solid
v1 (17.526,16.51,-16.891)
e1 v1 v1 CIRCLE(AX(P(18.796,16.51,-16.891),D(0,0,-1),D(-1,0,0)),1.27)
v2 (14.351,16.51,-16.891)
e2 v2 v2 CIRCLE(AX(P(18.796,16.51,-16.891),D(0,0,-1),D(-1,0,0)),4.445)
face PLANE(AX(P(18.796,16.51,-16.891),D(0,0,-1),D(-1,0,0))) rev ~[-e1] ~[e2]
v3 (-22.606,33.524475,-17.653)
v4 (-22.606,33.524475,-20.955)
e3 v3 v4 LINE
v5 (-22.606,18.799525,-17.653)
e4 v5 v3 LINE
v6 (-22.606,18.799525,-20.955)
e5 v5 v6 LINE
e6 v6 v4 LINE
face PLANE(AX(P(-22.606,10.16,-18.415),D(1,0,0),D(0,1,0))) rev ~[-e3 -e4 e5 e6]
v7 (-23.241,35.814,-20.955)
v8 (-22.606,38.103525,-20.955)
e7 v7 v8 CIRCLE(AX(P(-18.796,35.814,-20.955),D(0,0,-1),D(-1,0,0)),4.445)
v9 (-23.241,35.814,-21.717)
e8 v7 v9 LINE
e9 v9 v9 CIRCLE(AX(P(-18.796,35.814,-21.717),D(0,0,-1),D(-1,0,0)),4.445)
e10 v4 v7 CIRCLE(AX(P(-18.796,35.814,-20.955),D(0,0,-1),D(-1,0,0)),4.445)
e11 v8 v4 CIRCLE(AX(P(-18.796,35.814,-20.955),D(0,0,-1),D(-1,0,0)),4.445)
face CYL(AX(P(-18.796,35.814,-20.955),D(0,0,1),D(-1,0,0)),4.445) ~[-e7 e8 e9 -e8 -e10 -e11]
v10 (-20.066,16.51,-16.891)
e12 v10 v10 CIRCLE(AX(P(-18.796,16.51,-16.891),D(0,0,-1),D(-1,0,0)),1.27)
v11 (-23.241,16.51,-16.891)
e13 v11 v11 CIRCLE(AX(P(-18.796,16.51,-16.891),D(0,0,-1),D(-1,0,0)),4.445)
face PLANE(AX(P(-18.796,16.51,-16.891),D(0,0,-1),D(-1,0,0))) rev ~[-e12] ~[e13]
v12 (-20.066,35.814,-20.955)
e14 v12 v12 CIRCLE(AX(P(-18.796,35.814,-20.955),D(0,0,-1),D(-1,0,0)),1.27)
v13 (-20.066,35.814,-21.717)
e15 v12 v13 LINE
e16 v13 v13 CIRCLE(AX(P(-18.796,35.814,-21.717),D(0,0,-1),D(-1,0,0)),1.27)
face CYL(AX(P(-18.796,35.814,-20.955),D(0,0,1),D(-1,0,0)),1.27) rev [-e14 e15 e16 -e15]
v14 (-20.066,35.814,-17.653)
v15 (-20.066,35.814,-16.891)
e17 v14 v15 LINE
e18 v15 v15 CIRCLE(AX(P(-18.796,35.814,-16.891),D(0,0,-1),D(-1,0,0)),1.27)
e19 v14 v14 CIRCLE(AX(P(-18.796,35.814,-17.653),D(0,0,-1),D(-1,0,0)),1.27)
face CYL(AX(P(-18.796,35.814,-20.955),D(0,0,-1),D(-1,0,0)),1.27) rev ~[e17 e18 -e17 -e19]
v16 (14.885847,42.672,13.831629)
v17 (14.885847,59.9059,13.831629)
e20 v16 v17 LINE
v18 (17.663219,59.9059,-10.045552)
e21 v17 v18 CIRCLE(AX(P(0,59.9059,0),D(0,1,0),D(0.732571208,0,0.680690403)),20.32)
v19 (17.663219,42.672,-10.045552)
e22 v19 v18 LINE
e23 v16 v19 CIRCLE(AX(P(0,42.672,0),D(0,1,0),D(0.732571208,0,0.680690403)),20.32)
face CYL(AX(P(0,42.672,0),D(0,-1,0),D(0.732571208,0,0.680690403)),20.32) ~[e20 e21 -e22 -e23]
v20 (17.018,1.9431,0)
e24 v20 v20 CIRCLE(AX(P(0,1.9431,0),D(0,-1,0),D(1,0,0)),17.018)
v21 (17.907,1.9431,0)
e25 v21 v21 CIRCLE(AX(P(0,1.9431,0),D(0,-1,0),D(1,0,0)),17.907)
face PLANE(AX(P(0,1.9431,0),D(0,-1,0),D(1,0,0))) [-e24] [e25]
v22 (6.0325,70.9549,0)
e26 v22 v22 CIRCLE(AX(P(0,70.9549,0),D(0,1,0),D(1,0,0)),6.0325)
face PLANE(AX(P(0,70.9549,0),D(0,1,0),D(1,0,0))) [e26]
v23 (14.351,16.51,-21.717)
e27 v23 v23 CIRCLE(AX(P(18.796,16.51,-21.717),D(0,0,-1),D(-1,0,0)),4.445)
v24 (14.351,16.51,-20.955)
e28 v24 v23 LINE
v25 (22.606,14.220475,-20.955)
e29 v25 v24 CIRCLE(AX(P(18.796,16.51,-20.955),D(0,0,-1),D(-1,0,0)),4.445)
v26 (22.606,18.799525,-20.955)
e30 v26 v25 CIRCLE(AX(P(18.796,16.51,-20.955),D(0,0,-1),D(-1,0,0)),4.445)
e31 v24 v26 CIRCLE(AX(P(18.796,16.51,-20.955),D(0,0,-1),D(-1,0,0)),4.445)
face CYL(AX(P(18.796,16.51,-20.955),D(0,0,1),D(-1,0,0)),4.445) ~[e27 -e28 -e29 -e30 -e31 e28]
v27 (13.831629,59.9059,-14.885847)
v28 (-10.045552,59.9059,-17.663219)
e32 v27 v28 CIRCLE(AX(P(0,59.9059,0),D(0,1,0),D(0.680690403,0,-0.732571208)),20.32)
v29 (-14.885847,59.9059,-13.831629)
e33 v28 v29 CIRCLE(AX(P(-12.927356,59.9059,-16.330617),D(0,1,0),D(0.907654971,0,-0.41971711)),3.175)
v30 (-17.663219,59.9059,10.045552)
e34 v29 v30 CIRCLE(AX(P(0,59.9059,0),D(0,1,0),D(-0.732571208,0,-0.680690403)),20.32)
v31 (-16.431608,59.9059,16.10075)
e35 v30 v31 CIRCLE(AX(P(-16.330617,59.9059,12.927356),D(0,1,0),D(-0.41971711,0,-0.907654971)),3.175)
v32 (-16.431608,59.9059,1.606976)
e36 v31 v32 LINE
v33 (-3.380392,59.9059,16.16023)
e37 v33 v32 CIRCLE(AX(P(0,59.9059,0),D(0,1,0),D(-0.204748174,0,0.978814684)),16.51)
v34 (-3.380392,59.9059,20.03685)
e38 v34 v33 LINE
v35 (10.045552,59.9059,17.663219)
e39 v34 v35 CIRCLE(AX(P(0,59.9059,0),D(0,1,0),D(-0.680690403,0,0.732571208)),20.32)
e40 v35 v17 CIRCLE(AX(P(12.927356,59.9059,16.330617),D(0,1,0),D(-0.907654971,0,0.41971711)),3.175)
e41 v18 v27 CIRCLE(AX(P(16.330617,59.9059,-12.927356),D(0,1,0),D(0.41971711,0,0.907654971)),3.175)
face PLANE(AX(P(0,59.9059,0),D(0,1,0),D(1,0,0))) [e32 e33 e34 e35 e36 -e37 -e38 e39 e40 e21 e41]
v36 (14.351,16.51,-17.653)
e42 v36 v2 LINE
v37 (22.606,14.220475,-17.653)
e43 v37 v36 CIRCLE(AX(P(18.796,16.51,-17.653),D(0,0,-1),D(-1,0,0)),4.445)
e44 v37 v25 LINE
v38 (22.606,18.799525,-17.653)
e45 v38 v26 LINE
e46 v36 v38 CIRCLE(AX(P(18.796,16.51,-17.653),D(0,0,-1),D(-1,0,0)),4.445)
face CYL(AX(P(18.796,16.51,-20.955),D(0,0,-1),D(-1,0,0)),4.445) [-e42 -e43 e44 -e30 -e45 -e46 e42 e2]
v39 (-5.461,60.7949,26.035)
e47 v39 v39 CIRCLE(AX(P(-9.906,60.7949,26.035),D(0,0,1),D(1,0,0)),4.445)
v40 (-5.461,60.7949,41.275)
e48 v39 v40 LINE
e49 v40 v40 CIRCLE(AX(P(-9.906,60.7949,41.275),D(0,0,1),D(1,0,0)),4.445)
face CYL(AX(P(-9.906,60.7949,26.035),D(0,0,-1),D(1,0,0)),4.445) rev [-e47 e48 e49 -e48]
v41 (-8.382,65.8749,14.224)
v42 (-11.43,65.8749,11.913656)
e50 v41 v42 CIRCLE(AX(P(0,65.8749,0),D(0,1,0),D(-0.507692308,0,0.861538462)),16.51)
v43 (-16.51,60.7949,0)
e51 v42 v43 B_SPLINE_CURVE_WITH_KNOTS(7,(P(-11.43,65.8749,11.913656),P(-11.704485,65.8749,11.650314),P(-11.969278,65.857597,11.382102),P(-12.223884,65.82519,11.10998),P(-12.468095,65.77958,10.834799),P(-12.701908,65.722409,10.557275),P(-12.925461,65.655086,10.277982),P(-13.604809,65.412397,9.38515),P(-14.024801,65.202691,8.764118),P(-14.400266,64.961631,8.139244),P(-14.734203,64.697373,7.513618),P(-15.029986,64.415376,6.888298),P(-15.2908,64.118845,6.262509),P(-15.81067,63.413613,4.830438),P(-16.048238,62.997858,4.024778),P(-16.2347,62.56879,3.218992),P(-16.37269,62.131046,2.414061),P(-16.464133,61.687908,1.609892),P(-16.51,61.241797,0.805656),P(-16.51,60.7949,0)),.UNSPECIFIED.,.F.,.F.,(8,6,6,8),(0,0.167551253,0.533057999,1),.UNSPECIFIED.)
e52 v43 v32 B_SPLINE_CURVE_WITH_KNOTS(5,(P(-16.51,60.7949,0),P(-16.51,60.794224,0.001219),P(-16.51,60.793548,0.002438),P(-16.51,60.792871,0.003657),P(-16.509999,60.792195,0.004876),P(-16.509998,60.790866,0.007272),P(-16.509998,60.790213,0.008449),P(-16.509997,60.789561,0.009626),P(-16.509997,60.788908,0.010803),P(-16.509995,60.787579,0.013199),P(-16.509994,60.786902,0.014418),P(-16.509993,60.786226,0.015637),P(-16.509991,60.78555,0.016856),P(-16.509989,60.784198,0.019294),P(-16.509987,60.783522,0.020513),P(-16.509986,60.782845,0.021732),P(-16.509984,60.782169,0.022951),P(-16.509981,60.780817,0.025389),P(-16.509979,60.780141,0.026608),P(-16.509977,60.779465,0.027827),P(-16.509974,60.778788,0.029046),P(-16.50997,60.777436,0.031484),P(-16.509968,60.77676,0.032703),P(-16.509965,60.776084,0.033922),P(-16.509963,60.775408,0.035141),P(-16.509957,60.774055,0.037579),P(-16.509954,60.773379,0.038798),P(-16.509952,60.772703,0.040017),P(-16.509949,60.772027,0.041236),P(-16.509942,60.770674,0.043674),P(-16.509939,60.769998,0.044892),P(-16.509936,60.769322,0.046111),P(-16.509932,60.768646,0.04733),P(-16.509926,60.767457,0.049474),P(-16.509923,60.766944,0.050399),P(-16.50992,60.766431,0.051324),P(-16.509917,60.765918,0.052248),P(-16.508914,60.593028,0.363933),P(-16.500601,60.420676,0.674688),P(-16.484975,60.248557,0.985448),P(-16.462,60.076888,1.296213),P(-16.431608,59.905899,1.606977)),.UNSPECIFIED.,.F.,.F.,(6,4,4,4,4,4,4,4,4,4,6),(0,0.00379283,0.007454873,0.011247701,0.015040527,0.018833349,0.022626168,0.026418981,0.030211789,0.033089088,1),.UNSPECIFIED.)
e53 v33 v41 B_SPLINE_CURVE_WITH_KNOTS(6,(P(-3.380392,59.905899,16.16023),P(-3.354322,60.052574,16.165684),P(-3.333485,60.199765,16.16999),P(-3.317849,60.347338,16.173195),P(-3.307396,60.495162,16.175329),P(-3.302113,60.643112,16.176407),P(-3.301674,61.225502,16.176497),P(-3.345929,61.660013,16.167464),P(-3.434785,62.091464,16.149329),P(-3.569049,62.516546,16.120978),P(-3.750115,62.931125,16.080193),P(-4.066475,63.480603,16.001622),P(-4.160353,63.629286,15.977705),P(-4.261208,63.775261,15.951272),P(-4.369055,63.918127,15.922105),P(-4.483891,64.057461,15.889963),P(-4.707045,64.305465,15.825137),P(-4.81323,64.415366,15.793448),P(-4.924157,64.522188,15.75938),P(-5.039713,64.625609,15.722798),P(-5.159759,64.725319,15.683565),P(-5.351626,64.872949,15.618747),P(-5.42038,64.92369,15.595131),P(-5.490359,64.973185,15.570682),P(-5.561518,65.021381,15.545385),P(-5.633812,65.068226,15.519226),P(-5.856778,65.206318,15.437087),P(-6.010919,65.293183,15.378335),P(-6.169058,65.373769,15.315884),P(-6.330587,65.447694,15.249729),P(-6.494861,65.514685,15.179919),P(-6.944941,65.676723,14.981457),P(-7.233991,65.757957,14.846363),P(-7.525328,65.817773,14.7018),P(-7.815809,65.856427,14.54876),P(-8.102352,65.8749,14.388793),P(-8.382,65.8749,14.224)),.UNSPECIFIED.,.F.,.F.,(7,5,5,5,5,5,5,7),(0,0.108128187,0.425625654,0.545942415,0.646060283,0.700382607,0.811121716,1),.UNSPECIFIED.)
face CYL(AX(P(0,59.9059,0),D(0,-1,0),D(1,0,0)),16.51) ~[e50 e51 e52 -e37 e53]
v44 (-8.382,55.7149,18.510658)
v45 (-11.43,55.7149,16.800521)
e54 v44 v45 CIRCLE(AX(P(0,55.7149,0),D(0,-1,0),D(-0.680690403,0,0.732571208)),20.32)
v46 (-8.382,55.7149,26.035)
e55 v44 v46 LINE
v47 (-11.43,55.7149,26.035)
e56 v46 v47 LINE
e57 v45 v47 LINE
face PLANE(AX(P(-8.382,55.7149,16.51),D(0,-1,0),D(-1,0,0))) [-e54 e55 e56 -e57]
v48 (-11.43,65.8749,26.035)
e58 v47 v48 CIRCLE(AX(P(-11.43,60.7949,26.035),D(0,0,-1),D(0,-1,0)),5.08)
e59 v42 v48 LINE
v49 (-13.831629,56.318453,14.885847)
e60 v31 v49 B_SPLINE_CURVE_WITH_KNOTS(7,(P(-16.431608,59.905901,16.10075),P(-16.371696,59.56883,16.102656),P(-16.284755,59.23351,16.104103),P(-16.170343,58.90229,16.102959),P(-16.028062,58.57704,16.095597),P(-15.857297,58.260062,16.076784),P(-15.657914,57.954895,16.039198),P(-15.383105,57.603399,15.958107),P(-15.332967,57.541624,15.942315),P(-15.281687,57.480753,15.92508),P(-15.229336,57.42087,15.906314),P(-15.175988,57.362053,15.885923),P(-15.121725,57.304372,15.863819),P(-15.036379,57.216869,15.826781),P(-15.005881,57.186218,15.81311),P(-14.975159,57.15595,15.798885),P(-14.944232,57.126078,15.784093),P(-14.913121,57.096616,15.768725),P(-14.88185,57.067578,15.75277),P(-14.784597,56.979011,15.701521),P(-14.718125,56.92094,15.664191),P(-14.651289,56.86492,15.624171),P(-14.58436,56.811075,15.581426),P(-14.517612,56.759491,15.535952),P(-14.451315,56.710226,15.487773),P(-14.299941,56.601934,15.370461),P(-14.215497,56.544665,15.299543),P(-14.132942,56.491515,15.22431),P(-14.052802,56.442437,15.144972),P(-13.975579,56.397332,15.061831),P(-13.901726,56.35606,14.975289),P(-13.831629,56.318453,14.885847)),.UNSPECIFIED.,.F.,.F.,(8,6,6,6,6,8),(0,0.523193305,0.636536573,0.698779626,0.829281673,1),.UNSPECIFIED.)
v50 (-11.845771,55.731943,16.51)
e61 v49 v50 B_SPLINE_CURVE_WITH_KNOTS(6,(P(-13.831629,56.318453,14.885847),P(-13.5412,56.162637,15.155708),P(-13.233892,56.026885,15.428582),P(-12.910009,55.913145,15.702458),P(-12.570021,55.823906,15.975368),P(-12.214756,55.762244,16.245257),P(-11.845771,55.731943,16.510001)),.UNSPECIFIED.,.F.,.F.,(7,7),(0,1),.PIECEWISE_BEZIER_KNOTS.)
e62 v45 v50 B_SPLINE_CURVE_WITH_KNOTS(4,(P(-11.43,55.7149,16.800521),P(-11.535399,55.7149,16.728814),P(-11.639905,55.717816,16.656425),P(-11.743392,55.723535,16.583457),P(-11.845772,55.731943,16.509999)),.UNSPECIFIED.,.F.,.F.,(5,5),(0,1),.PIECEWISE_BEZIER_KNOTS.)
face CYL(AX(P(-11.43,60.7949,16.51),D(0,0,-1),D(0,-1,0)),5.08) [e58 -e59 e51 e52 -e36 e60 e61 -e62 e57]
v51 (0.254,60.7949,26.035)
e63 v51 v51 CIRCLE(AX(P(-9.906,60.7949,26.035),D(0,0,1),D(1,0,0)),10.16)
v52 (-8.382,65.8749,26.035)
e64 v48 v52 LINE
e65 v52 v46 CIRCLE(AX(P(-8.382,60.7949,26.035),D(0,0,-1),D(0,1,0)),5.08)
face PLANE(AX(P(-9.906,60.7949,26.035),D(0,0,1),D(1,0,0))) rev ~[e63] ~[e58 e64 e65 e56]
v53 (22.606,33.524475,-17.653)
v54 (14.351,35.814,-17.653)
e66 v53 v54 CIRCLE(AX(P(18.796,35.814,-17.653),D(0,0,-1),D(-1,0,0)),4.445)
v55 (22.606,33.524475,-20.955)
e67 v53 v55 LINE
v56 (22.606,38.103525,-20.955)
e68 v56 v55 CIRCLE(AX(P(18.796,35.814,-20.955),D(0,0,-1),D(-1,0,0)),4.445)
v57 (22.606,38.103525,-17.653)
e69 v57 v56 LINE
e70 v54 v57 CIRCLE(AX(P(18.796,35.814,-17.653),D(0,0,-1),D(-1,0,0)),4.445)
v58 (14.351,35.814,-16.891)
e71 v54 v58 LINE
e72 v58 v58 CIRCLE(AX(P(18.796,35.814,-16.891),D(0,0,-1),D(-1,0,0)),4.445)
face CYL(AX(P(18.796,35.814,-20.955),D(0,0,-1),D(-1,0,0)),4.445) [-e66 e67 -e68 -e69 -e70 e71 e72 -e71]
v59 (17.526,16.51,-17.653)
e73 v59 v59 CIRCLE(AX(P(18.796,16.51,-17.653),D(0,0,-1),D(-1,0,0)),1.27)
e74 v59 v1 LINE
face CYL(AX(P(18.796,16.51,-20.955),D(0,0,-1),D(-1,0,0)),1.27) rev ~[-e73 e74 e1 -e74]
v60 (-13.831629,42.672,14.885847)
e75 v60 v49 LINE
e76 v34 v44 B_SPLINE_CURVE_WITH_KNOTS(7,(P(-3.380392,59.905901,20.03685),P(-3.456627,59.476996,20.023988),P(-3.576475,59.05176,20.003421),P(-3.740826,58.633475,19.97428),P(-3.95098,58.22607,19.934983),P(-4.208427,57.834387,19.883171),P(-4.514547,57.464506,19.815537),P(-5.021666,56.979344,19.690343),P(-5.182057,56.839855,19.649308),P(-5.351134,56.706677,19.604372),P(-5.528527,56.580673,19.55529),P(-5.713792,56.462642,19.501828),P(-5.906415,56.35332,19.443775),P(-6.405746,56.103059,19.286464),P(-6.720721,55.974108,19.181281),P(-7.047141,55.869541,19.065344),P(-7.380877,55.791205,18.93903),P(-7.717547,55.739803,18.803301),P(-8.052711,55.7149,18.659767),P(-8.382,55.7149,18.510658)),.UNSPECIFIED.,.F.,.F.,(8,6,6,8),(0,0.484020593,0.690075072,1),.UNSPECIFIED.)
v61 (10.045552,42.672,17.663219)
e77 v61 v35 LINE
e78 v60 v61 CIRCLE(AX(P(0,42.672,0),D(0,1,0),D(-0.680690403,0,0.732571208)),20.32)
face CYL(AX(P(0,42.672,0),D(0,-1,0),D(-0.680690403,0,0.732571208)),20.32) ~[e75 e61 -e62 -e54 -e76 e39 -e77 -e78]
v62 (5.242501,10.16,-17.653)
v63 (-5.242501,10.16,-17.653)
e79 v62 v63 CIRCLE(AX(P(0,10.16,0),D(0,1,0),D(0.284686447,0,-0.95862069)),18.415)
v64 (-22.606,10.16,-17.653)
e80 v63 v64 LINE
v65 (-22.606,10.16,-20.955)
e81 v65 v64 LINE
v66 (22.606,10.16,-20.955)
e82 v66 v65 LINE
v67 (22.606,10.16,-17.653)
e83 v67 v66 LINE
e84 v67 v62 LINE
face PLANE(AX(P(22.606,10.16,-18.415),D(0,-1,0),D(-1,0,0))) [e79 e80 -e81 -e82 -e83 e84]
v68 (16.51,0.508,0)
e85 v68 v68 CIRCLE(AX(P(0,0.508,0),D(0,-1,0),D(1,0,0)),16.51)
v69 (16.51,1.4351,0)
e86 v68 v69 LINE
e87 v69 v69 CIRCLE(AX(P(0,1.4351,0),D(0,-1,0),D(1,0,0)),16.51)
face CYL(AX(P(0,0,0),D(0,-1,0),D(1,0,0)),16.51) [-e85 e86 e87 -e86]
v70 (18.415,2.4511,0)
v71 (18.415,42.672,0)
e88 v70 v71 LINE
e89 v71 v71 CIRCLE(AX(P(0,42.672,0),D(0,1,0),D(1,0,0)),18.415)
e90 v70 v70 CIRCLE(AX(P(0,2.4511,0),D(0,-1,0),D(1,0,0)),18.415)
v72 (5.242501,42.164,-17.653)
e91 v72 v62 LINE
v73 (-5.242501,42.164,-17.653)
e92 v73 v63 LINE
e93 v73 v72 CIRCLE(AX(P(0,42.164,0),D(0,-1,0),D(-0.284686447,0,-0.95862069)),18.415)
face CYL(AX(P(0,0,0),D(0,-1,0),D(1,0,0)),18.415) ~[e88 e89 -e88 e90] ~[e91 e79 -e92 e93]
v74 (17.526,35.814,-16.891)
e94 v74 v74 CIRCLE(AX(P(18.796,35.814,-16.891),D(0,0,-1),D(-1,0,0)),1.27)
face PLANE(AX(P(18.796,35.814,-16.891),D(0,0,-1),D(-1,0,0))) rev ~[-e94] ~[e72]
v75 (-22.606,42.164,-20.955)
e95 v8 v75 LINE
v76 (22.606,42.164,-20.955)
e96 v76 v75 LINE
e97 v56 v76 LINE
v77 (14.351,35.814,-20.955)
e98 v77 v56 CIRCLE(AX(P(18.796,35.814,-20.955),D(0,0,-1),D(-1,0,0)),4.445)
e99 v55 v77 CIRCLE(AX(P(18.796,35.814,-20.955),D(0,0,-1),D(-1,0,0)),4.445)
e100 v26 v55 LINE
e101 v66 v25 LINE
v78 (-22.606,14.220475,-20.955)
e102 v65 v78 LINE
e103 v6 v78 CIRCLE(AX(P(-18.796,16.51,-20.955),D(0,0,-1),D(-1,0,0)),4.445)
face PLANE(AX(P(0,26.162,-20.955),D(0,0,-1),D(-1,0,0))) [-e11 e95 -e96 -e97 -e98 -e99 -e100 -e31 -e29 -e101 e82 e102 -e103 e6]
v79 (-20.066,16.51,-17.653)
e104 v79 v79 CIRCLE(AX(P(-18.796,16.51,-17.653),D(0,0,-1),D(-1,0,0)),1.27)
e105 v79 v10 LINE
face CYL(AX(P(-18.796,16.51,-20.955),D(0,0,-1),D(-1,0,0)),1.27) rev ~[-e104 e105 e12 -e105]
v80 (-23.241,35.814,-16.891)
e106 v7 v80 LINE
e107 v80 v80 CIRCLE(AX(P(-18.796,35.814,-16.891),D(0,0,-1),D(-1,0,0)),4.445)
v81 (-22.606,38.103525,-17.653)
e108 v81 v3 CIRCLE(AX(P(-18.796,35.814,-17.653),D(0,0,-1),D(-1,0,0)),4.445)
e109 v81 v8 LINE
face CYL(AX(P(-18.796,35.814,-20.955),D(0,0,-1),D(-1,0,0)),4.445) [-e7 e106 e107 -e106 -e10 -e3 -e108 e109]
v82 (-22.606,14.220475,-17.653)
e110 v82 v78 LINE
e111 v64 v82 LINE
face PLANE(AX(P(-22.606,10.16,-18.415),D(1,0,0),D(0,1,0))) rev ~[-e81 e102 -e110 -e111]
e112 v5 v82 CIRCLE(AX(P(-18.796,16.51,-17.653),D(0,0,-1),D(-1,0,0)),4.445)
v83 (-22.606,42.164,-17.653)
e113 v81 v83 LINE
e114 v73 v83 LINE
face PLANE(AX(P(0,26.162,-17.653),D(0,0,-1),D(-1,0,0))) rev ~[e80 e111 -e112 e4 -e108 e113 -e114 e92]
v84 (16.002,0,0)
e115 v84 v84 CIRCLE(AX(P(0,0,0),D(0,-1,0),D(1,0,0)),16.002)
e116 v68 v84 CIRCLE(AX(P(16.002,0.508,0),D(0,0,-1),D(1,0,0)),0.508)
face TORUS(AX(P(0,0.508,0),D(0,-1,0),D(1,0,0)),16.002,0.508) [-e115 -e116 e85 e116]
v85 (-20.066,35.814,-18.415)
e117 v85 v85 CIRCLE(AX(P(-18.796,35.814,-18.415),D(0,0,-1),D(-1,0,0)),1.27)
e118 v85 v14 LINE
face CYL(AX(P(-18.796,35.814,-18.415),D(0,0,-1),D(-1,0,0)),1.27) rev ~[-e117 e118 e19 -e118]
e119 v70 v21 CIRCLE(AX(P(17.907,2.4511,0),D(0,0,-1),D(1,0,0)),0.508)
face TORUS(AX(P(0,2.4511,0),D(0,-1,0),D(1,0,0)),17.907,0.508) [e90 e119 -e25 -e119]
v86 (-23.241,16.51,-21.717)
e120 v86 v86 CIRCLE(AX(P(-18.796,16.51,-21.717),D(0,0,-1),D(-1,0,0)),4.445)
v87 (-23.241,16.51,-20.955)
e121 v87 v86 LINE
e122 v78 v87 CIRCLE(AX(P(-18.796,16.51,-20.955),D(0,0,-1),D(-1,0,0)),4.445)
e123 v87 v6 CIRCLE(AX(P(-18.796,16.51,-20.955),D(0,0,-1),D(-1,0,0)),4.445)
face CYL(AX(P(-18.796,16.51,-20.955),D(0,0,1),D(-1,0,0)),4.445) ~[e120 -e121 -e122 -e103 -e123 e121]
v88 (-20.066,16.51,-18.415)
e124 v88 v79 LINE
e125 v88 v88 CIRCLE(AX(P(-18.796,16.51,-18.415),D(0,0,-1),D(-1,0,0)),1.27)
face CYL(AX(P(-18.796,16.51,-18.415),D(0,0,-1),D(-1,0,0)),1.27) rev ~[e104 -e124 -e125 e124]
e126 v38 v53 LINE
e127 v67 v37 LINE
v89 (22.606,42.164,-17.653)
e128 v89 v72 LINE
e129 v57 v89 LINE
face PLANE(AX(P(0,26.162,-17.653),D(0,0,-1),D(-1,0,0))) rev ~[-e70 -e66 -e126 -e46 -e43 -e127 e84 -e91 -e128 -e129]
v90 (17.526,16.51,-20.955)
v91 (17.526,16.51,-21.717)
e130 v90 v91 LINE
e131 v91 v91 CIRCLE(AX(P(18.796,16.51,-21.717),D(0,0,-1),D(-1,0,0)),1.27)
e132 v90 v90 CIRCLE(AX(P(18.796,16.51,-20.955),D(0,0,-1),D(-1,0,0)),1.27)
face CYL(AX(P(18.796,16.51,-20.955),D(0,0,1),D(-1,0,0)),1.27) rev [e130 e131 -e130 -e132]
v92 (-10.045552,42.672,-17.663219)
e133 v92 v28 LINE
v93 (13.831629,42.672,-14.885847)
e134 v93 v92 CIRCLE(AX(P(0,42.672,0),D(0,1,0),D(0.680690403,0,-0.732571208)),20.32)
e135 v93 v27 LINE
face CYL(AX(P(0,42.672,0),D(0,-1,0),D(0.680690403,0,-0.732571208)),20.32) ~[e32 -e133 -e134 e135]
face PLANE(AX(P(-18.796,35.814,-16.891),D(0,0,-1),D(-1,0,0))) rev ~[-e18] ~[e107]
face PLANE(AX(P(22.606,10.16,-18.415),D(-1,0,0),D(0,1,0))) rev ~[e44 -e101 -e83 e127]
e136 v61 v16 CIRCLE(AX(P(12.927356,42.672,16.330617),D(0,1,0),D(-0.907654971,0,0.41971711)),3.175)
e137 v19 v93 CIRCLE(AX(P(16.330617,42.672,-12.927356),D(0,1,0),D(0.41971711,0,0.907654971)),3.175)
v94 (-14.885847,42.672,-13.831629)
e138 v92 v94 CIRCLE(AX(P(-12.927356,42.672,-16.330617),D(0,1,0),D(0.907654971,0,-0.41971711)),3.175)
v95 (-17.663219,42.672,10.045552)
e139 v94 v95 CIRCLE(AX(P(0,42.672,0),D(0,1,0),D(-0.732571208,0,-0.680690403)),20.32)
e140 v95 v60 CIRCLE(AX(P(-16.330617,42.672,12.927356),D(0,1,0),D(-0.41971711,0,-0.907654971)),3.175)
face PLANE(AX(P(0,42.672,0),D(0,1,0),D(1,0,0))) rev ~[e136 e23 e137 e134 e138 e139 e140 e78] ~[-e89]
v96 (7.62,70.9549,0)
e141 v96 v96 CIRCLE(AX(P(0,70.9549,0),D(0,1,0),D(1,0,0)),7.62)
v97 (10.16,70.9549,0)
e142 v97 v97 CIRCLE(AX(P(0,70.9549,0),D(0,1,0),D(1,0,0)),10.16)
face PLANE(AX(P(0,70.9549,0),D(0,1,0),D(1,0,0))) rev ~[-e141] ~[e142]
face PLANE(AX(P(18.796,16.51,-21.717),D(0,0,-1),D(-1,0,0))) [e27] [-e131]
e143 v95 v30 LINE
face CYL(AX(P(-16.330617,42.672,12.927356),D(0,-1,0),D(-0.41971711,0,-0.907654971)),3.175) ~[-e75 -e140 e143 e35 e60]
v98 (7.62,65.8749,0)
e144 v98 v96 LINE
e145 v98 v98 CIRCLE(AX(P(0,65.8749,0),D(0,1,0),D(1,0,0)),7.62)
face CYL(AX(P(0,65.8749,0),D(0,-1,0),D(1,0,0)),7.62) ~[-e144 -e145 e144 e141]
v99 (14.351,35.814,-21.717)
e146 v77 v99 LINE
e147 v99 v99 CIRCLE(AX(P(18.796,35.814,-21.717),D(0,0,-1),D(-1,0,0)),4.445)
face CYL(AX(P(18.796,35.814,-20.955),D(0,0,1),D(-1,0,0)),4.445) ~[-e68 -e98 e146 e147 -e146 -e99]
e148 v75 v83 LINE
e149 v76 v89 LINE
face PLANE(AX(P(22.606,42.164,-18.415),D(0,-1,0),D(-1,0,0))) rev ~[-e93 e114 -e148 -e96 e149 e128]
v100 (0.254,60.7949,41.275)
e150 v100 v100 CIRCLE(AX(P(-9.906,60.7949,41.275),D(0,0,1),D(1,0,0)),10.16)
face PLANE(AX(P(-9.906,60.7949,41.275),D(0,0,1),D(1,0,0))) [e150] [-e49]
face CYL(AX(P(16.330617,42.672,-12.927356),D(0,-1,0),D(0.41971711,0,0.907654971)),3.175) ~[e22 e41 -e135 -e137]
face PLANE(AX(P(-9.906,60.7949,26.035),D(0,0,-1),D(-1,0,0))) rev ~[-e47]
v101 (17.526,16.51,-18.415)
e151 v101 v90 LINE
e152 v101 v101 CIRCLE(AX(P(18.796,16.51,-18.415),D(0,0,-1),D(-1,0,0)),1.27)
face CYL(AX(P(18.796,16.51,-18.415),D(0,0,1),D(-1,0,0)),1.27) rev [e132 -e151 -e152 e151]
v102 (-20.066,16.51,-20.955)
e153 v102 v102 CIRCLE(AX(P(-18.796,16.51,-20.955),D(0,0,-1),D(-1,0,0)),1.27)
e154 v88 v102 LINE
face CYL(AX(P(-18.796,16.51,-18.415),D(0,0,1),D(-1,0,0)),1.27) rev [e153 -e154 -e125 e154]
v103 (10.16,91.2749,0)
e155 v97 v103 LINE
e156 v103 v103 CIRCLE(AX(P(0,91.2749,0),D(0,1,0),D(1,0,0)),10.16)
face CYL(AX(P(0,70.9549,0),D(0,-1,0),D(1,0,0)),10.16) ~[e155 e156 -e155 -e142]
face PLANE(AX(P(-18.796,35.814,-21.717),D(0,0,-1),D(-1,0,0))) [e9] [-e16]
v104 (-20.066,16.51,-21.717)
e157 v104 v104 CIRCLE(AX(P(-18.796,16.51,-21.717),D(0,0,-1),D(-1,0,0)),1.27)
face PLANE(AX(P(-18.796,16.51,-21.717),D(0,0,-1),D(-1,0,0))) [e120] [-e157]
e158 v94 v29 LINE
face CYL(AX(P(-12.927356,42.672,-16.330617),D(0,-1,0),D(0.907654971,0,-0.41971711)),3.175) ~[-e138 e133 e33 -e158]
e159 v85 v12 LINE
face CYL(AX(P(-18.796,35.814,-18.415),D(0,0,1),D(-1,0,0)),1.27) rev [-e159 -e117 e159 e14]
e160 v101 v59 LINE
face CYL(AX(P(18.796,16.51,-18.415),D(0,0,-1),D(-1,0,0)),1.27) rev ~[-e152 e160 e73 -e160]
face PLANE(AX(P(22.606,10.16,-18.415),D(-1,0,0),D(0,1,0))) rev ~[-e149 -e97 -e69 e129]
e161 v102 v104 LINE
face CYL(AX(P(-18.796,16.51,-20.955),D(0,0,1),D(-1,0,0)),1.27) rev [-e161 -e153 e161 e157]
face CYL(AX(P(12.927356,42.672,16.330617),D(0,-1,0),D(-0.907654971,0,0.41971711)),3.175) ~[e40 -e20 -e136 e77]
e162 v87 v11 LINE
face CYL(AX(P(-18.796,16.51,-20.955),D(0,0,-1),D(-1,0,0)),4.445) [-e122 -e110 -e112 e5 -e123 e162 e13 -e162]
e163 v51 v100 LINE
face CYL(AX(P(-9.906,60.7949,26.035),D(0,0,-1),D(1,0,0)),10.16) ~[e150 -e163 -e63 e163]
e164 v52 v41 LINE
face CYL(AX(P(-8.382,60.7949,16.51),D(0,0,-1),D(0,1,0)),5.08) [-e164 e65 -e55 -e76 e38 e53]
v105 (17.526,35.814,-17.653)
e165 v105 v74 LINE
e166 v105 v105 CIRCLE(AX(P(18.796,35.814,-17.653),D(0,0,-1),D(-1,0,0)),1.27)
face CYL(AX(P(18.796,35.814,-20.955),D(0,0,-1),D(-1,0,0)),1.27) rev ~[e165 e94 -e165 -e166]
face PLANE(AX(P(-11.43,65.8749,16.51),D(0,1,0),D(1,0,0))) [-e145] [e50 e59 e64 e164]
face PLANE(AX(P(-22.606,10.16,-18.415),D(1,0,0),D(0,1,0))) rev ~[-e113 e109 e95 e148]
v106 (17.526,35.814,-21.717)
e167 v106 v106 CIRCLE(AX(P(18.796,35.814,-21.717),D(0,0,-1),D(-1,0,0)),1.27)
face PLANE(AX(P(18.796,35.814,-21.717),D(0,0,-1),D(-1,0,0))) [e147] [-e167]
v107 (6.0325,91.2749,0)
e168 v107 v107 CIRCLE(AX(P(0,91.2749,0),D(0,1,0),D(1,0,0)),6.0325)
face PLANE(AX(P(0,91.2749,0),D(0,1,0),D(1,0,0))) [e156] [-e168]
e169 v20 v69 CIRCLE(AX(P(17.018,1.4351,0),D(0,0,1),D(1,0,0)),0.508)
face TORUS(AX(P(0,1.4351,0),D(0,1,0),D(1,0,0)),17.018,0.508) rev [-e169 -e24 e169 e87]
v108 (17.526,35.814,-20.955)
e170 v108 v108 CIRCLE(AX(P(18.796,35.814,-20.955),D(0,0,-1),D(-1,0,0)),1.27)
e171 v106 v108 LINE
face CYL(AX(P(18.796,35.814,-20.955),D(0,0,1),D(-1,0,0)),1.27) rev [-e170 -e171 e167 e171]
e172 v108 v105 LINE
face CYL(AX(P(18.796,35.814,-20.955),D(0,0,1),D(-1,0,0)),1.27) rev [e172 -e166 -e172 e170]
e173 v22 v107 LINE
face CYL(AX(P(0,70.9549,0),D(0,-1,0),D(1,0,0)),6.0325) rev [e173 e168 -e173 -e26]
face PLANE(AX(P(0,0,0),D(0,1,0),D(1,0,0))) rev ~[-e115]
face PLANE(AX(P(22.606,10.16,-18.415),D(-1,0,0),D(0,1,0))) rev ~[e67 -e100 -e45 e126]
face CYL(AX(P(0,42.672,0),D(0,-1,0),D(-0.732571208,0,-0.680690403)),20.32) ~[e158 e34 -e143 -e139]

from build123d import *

# Parameters (mm, degrees)
SKETCH1_R            = 18.415
BOSS_EXTRUDE1_DEPTH  = 42.672
SKETCH2_OUTSIDE_W    = 52.296
SKETCH2_OUTSIDE_H    = 52.296
SKETCH2_OUTSIDE_R    = 16.51
CUT_EXTRUDE2_DEPTH   = 1.9431
FILLET1_R            = 0.508
SKETCH3_W            = 45.212
SKETCH3_H            = 32.004
SKETCH3_R            = 1.27
BOSS_EXTRUDE2_DEPTH  = 2.54
SKETCH3_2_W          = 45.212
SKETCH3_2_H          = 32.004
SKETCH3_2_R          = 1.27
BOSS_EXTRUDE3_DEPTH  = 0.762
SKETCH5_R            = 4.445
SKETCH5_R_2          = 1.27
BOSS_EXTRUDE5_DEPTH  = 0.762
SKETCH5_4_R          = 4.445
SKETCH5_4_R_2        = 1.27
BOSS_EXTRUDE8_DEPTH  = 4.064
BOSS_EXTRUDE9_DEPTH  = 17.2339
SKETCH7_R            = 16.51
BOSS_EXTRUDE10_DEPTH = 5.969
SKETCH8_R            = 7.62
BOSS_EXTRUDE11_DEPTH = 5.08
SKETCH9_R            = 10.16
SKETCH9_R_2          = 6.0325
BOSS_EXTRUDE12_DEPTH = 20.32
BOSS_EXTRUDE13_START = -16.51
BOSS_EXTRUDE13_DEPTH = 16.51
BOSS_EXTRUDE14_DEPTH = 9.525
SKETCH11_R           = 10.16
SKETCH11_R_2         = 4.445
BOSS_EXTRUDE17_DEPTH = 15.24


with BuildPart() as part:
    # Sketch1 → Boss-Extrude1 (new body)
    with BuildSketch(Plane(origin=(0, 0, 0), x_dir=(1, 0, 0), z_dir=(0, 1, 0))):
        Circle(SKETCH1_R)
    extrude(amount=BOSS_EXTRUDE1_DEPTH)

    # Sketch2 outside → Cut-Extrude2 (cut)
    with BuildSketch(Plane.XZ):
        Rectangle(SKETCH2_OUTSIDE_W, SKETCH2_OUTSIDE_H)
        Circle(SKETCH2_OUTSIDE_R, mode=Mode.SUBTRACT)
    extrude(amount=-CUT_EXTRUDE2_DEPTH, mode=Mode.SUBTRACT)

    # Fillet1
    fillet1_edges = [part.edges().sort_by_distance(p)[0] for p in [
        (-16.51, 0, 0),
        (-16.51, 1.9431, 0),
        (-18.415, 1.9431, 0),
    ]]
    fillet(fillet1_edges, radius=FILLET1_R)



with BuildPart() as body_2:
    # Sketch3 → Boss-Extrude2 (new body)
    with BuildSketch(Plane(origin=(0, 0, -18.415), x_dir=(-1, 0, 0), z_dir=(0, 0, -1))):
        with Locations((0, 26.162)):
            Rectangle(SKETCH3_W, SKETCH3_H)
        with Locations((-18.796, 35.814)):
            Circle(SKETCH3_R, mode=Mode.SUBTRACT)
        with Locations((-18.796, 16.51)):
            Circle(SKETCH3_R, mode=Mode.SUBTRACT)
        with Locations((18.796, 16.51)):
            Circle(SKETCH3_R, mode=Mode.SUBTRACT)
        with Locations((18.796, 35.814)):
            Circle(SKETCH3_R, mode=Mode.SUBTRACT)
    extrude(amount=BOSS_EXTRUDE2_DEPTH)


with BuildPart() as part_1:
    add(part.part)

    add(body_2.part)  # Boss-Extrude3 merges body 2
    # Sketch3_2 → Boss-Extrude3 (add)
    with BuildSketch(Plane(origin=(0, 0, -18.415), x_dir=(-1, 0, 0), z_dir=(0, 0, -1))):
        with Locations((0, 26.162)):
            Rectangle(SKETCH3_2_W, SKETCH3_2_H)
        with Locations((-18.796, 35.814)):
            Circle(SKETCH3_2_R, mode=Mode.SUBTRACT)
        with Locations((-18.796, 16.51)):
            Circle(SKETCH3_2_R, mode=Mode.SUBTRACT)
        with Locations((18.796, 16.51)):
            Circle(SKETCH3_2_R, mode=Mode.SUBTRACT)
        with Locations((18.796, 35.814)):
            Circle(SKETCH3_2_R, mode=Mode.SUBTRACT)
    extrude(amount=-BOSS_EXTRUDE3_DEPTH)

    # Sketch5 → Boss-Extrude5 (add)
    with BuildSketch(Plane(origin=(0, 0, -20.955), x_dir=(-1, 0, 0), z_dir=(0, 0, -1))):
        with Locations((-18.796, 35.814)):
            Circle(SKETCH5_R)
        with Locations((-18.796, 35.814)):
            Circle(SKETCH5_R_2, mode=Mode.SUBTRACT)
        with Locations((-18.796, 16.51)):
            Circle(SKETCH5_R)
        with Locations((-18.796, 16.51)):
            Circle(SKETCH5_R_2, mode=Mode.SUBTRACT)
        with Locations((18.796, 16.51)):
            Circle(SKETCH5_R)
        with Locations((18.796, 16.51)):
            Circle(SKETCH5_R_2, mode=Mode.SUBTRACT)
        with Locations((18.796, 35.814)):
            Circle(SKETCH5_R)
        with Locations((18.796, 35.814)):
            Circle(SKETCH5_R_2, mode=Mode.SUBTRACT)
    extrude(amount=BOSS_EXTRUDE5_DEPTH)

    # Sketch5_4 → Boss-Extrude8 (add)
    with BuildSketch(Plane(origin=(0, 0, -20.955), x_dir=(-1, 0, 0), z_dir=(0, 0, -1))):
        with Locations((-18.796, 35.814)):
            Circle(SKETCH5_4_R)
        with Locations((-18.796, 35.814)):
            Circle(SKETCH5_4_R_2, mode=Mode.SUBTRACT)
        with Locations((-18.796, 16.51)):
            Circle(SKETCH5_4_R)
        with Locations((-18.796, 16.51)):
            Circle(SKETCH5_4_R_2, mode=Mode.SUBTRACT)
        with Locations((18.796, 16.51)):
            Circle(SKETCH5_4_R)
        with Locations((18.796, 16.51)):
            Circle(SKETCH5_4_R_2, mode=Mode.SUBTRACT)
        with Locations((18.796, 35.814)):
            Circle(SKETCH5_4_R)
        with Locations((18.796, 35.814)):
            Circle(SKETCH5_4_R_2, mode=Mode.SUBTRACT)
    extrude(amount=-BOSS_EXTRUDE8_DEPTH)

    # Sketch6 → Boss-Extrude9 (add)
    with BuildSketch(Plane(origin=(0, 42.672, 0), x_dir=(1, 0, 0), z_dir=(0, 1, 0))):
        with BuildLine():
            ThreePointArc((-14.885846945, 13.831628998), (-20.183913314, 2.347774127), (-17.663218531, -10.045551809))
            ThreePointArc((-17.663218531, -10.045551809), (-18.820039984, -14.897989932), (-13.831628998, -14.885846945))
            ThreePointArc((-13.831628998, -14.885846945), (-2.347774127, -20.183913314), (10.045551809, -17.663218531))
            ThreePointArc((10.045551809, -17.663218531), (14.897989932, -18.820039984), (14.885846945, -13.831628998))
            ThreePointArc((14.885846945, -13.831628998), (20.183913314, -2.347774127), (17.663218531, 10.045551809))
            ThreePointArc((17.663218531, 10.045551809), (18.820039984, 14.897989932), (13.831628998, 14.885846945))
            ThreePointArc((13.831628998, 14.885846945), (2.347774127, 20.183913314), (-10.045551809, 17.663218531))
            ThreePointArc((-10.045551809, 17.663218531), (-14.897989932, 18.820039984), (-14.885846945, 13.831628998))
        make_face()
    extrude(amount=BOSS_EXTRUDE9_DEPTH)

    # Sketch7 → Boss-Extrude10 (add)
    with BuildSketch(Plane(origin=(0, 59.9059, 0), x_dir=(1, 0, 0), z_dir=(0, 1, 0))):
        Circle(SKETCH7_R)
    extrude(amount=BOSS_EXTRUDE10_DEPTH)

    # Sketch8 → Boss-Extrude11 (add)
    with BuildSketch(Plane(origin=(0, 65.8749, 0), x_dir=(1, 0, 0), z_dir=(0, 1, 0))):
        Circle(SKETCH8_R)
    extrude(amount=BOSS_EXTRUDE11_DEPTH)

    # Sketch9 → Boss-Extrude12 (add)
    with BuildSketch(Plane(origin=(0, 70.9549, 0), x_dir=(1, 0, 0), z_dir=(0, 1, 0))):
        Circle(SKETCH9_R)
        Circle(SKETCH9_R_2, mode=Mode.SUBTRACT)
    extrude(amount=BOSS_EXTRUDE12_DEPTH)

    # Sketch10 → Boss-Extrude13 (add)
    with BuildSketch(Plane.XY.offset(16.51).offset(BOSS_EXTRUDE13_START)):
        with BuildLine():
            Line((-8.382, 65.8749), (-11.43, 65.8749))
            ThreePointArc((-11.43, 65.8749), (-16.51, 60.7949), (-11.43, 55.7149))
            Line((-11.43, 55.7149), (-8.382, 55.7149))
            ThreePointArc((-8.382, 55.7149), (-3.302, 60.7949), (-8.382, 65.8749))
        make_face()
    extrude(amount=BOSS_EXTRUDE13_DEPTH)

    # Sketch10_2 → Boss-Extrude14 (add)
    with BuildSketch(Plane.XY.offset(16.51)):
        with BuildLine():
            Line((-11.43, 65.8749), (-8.382, 65.8749))
            ThreePointArc((-8.382, 65.8749), (-3.302, 60.7949), (-8.382, 55.7149))
            Line((-8.382, 55.7149), (-11.43, 55.7149))
            ThreePointArc((-11.43, 55.7149), (-16.51, 60.7949), (-11.43, 65.8749))
        make_face()
    extrude(amount=BOSS_EXTRUDE14_DEPTH)

    # Sketch11 → Boss-Extrude17 (add)
    with BuildSketch(Plane.XY.offset(26.035)):
        with Locations((-9.906, 60.7949)):
            Circle(SKETCH11_R)
        with Locations((-9.906, 60.7949)):
            Circle(SKETCH11_R_2, mode=Mode.SUBTRACT)
    extrude(amount=BOSS_EXTRUDE17_DEPTH)


solid = part_1.part
